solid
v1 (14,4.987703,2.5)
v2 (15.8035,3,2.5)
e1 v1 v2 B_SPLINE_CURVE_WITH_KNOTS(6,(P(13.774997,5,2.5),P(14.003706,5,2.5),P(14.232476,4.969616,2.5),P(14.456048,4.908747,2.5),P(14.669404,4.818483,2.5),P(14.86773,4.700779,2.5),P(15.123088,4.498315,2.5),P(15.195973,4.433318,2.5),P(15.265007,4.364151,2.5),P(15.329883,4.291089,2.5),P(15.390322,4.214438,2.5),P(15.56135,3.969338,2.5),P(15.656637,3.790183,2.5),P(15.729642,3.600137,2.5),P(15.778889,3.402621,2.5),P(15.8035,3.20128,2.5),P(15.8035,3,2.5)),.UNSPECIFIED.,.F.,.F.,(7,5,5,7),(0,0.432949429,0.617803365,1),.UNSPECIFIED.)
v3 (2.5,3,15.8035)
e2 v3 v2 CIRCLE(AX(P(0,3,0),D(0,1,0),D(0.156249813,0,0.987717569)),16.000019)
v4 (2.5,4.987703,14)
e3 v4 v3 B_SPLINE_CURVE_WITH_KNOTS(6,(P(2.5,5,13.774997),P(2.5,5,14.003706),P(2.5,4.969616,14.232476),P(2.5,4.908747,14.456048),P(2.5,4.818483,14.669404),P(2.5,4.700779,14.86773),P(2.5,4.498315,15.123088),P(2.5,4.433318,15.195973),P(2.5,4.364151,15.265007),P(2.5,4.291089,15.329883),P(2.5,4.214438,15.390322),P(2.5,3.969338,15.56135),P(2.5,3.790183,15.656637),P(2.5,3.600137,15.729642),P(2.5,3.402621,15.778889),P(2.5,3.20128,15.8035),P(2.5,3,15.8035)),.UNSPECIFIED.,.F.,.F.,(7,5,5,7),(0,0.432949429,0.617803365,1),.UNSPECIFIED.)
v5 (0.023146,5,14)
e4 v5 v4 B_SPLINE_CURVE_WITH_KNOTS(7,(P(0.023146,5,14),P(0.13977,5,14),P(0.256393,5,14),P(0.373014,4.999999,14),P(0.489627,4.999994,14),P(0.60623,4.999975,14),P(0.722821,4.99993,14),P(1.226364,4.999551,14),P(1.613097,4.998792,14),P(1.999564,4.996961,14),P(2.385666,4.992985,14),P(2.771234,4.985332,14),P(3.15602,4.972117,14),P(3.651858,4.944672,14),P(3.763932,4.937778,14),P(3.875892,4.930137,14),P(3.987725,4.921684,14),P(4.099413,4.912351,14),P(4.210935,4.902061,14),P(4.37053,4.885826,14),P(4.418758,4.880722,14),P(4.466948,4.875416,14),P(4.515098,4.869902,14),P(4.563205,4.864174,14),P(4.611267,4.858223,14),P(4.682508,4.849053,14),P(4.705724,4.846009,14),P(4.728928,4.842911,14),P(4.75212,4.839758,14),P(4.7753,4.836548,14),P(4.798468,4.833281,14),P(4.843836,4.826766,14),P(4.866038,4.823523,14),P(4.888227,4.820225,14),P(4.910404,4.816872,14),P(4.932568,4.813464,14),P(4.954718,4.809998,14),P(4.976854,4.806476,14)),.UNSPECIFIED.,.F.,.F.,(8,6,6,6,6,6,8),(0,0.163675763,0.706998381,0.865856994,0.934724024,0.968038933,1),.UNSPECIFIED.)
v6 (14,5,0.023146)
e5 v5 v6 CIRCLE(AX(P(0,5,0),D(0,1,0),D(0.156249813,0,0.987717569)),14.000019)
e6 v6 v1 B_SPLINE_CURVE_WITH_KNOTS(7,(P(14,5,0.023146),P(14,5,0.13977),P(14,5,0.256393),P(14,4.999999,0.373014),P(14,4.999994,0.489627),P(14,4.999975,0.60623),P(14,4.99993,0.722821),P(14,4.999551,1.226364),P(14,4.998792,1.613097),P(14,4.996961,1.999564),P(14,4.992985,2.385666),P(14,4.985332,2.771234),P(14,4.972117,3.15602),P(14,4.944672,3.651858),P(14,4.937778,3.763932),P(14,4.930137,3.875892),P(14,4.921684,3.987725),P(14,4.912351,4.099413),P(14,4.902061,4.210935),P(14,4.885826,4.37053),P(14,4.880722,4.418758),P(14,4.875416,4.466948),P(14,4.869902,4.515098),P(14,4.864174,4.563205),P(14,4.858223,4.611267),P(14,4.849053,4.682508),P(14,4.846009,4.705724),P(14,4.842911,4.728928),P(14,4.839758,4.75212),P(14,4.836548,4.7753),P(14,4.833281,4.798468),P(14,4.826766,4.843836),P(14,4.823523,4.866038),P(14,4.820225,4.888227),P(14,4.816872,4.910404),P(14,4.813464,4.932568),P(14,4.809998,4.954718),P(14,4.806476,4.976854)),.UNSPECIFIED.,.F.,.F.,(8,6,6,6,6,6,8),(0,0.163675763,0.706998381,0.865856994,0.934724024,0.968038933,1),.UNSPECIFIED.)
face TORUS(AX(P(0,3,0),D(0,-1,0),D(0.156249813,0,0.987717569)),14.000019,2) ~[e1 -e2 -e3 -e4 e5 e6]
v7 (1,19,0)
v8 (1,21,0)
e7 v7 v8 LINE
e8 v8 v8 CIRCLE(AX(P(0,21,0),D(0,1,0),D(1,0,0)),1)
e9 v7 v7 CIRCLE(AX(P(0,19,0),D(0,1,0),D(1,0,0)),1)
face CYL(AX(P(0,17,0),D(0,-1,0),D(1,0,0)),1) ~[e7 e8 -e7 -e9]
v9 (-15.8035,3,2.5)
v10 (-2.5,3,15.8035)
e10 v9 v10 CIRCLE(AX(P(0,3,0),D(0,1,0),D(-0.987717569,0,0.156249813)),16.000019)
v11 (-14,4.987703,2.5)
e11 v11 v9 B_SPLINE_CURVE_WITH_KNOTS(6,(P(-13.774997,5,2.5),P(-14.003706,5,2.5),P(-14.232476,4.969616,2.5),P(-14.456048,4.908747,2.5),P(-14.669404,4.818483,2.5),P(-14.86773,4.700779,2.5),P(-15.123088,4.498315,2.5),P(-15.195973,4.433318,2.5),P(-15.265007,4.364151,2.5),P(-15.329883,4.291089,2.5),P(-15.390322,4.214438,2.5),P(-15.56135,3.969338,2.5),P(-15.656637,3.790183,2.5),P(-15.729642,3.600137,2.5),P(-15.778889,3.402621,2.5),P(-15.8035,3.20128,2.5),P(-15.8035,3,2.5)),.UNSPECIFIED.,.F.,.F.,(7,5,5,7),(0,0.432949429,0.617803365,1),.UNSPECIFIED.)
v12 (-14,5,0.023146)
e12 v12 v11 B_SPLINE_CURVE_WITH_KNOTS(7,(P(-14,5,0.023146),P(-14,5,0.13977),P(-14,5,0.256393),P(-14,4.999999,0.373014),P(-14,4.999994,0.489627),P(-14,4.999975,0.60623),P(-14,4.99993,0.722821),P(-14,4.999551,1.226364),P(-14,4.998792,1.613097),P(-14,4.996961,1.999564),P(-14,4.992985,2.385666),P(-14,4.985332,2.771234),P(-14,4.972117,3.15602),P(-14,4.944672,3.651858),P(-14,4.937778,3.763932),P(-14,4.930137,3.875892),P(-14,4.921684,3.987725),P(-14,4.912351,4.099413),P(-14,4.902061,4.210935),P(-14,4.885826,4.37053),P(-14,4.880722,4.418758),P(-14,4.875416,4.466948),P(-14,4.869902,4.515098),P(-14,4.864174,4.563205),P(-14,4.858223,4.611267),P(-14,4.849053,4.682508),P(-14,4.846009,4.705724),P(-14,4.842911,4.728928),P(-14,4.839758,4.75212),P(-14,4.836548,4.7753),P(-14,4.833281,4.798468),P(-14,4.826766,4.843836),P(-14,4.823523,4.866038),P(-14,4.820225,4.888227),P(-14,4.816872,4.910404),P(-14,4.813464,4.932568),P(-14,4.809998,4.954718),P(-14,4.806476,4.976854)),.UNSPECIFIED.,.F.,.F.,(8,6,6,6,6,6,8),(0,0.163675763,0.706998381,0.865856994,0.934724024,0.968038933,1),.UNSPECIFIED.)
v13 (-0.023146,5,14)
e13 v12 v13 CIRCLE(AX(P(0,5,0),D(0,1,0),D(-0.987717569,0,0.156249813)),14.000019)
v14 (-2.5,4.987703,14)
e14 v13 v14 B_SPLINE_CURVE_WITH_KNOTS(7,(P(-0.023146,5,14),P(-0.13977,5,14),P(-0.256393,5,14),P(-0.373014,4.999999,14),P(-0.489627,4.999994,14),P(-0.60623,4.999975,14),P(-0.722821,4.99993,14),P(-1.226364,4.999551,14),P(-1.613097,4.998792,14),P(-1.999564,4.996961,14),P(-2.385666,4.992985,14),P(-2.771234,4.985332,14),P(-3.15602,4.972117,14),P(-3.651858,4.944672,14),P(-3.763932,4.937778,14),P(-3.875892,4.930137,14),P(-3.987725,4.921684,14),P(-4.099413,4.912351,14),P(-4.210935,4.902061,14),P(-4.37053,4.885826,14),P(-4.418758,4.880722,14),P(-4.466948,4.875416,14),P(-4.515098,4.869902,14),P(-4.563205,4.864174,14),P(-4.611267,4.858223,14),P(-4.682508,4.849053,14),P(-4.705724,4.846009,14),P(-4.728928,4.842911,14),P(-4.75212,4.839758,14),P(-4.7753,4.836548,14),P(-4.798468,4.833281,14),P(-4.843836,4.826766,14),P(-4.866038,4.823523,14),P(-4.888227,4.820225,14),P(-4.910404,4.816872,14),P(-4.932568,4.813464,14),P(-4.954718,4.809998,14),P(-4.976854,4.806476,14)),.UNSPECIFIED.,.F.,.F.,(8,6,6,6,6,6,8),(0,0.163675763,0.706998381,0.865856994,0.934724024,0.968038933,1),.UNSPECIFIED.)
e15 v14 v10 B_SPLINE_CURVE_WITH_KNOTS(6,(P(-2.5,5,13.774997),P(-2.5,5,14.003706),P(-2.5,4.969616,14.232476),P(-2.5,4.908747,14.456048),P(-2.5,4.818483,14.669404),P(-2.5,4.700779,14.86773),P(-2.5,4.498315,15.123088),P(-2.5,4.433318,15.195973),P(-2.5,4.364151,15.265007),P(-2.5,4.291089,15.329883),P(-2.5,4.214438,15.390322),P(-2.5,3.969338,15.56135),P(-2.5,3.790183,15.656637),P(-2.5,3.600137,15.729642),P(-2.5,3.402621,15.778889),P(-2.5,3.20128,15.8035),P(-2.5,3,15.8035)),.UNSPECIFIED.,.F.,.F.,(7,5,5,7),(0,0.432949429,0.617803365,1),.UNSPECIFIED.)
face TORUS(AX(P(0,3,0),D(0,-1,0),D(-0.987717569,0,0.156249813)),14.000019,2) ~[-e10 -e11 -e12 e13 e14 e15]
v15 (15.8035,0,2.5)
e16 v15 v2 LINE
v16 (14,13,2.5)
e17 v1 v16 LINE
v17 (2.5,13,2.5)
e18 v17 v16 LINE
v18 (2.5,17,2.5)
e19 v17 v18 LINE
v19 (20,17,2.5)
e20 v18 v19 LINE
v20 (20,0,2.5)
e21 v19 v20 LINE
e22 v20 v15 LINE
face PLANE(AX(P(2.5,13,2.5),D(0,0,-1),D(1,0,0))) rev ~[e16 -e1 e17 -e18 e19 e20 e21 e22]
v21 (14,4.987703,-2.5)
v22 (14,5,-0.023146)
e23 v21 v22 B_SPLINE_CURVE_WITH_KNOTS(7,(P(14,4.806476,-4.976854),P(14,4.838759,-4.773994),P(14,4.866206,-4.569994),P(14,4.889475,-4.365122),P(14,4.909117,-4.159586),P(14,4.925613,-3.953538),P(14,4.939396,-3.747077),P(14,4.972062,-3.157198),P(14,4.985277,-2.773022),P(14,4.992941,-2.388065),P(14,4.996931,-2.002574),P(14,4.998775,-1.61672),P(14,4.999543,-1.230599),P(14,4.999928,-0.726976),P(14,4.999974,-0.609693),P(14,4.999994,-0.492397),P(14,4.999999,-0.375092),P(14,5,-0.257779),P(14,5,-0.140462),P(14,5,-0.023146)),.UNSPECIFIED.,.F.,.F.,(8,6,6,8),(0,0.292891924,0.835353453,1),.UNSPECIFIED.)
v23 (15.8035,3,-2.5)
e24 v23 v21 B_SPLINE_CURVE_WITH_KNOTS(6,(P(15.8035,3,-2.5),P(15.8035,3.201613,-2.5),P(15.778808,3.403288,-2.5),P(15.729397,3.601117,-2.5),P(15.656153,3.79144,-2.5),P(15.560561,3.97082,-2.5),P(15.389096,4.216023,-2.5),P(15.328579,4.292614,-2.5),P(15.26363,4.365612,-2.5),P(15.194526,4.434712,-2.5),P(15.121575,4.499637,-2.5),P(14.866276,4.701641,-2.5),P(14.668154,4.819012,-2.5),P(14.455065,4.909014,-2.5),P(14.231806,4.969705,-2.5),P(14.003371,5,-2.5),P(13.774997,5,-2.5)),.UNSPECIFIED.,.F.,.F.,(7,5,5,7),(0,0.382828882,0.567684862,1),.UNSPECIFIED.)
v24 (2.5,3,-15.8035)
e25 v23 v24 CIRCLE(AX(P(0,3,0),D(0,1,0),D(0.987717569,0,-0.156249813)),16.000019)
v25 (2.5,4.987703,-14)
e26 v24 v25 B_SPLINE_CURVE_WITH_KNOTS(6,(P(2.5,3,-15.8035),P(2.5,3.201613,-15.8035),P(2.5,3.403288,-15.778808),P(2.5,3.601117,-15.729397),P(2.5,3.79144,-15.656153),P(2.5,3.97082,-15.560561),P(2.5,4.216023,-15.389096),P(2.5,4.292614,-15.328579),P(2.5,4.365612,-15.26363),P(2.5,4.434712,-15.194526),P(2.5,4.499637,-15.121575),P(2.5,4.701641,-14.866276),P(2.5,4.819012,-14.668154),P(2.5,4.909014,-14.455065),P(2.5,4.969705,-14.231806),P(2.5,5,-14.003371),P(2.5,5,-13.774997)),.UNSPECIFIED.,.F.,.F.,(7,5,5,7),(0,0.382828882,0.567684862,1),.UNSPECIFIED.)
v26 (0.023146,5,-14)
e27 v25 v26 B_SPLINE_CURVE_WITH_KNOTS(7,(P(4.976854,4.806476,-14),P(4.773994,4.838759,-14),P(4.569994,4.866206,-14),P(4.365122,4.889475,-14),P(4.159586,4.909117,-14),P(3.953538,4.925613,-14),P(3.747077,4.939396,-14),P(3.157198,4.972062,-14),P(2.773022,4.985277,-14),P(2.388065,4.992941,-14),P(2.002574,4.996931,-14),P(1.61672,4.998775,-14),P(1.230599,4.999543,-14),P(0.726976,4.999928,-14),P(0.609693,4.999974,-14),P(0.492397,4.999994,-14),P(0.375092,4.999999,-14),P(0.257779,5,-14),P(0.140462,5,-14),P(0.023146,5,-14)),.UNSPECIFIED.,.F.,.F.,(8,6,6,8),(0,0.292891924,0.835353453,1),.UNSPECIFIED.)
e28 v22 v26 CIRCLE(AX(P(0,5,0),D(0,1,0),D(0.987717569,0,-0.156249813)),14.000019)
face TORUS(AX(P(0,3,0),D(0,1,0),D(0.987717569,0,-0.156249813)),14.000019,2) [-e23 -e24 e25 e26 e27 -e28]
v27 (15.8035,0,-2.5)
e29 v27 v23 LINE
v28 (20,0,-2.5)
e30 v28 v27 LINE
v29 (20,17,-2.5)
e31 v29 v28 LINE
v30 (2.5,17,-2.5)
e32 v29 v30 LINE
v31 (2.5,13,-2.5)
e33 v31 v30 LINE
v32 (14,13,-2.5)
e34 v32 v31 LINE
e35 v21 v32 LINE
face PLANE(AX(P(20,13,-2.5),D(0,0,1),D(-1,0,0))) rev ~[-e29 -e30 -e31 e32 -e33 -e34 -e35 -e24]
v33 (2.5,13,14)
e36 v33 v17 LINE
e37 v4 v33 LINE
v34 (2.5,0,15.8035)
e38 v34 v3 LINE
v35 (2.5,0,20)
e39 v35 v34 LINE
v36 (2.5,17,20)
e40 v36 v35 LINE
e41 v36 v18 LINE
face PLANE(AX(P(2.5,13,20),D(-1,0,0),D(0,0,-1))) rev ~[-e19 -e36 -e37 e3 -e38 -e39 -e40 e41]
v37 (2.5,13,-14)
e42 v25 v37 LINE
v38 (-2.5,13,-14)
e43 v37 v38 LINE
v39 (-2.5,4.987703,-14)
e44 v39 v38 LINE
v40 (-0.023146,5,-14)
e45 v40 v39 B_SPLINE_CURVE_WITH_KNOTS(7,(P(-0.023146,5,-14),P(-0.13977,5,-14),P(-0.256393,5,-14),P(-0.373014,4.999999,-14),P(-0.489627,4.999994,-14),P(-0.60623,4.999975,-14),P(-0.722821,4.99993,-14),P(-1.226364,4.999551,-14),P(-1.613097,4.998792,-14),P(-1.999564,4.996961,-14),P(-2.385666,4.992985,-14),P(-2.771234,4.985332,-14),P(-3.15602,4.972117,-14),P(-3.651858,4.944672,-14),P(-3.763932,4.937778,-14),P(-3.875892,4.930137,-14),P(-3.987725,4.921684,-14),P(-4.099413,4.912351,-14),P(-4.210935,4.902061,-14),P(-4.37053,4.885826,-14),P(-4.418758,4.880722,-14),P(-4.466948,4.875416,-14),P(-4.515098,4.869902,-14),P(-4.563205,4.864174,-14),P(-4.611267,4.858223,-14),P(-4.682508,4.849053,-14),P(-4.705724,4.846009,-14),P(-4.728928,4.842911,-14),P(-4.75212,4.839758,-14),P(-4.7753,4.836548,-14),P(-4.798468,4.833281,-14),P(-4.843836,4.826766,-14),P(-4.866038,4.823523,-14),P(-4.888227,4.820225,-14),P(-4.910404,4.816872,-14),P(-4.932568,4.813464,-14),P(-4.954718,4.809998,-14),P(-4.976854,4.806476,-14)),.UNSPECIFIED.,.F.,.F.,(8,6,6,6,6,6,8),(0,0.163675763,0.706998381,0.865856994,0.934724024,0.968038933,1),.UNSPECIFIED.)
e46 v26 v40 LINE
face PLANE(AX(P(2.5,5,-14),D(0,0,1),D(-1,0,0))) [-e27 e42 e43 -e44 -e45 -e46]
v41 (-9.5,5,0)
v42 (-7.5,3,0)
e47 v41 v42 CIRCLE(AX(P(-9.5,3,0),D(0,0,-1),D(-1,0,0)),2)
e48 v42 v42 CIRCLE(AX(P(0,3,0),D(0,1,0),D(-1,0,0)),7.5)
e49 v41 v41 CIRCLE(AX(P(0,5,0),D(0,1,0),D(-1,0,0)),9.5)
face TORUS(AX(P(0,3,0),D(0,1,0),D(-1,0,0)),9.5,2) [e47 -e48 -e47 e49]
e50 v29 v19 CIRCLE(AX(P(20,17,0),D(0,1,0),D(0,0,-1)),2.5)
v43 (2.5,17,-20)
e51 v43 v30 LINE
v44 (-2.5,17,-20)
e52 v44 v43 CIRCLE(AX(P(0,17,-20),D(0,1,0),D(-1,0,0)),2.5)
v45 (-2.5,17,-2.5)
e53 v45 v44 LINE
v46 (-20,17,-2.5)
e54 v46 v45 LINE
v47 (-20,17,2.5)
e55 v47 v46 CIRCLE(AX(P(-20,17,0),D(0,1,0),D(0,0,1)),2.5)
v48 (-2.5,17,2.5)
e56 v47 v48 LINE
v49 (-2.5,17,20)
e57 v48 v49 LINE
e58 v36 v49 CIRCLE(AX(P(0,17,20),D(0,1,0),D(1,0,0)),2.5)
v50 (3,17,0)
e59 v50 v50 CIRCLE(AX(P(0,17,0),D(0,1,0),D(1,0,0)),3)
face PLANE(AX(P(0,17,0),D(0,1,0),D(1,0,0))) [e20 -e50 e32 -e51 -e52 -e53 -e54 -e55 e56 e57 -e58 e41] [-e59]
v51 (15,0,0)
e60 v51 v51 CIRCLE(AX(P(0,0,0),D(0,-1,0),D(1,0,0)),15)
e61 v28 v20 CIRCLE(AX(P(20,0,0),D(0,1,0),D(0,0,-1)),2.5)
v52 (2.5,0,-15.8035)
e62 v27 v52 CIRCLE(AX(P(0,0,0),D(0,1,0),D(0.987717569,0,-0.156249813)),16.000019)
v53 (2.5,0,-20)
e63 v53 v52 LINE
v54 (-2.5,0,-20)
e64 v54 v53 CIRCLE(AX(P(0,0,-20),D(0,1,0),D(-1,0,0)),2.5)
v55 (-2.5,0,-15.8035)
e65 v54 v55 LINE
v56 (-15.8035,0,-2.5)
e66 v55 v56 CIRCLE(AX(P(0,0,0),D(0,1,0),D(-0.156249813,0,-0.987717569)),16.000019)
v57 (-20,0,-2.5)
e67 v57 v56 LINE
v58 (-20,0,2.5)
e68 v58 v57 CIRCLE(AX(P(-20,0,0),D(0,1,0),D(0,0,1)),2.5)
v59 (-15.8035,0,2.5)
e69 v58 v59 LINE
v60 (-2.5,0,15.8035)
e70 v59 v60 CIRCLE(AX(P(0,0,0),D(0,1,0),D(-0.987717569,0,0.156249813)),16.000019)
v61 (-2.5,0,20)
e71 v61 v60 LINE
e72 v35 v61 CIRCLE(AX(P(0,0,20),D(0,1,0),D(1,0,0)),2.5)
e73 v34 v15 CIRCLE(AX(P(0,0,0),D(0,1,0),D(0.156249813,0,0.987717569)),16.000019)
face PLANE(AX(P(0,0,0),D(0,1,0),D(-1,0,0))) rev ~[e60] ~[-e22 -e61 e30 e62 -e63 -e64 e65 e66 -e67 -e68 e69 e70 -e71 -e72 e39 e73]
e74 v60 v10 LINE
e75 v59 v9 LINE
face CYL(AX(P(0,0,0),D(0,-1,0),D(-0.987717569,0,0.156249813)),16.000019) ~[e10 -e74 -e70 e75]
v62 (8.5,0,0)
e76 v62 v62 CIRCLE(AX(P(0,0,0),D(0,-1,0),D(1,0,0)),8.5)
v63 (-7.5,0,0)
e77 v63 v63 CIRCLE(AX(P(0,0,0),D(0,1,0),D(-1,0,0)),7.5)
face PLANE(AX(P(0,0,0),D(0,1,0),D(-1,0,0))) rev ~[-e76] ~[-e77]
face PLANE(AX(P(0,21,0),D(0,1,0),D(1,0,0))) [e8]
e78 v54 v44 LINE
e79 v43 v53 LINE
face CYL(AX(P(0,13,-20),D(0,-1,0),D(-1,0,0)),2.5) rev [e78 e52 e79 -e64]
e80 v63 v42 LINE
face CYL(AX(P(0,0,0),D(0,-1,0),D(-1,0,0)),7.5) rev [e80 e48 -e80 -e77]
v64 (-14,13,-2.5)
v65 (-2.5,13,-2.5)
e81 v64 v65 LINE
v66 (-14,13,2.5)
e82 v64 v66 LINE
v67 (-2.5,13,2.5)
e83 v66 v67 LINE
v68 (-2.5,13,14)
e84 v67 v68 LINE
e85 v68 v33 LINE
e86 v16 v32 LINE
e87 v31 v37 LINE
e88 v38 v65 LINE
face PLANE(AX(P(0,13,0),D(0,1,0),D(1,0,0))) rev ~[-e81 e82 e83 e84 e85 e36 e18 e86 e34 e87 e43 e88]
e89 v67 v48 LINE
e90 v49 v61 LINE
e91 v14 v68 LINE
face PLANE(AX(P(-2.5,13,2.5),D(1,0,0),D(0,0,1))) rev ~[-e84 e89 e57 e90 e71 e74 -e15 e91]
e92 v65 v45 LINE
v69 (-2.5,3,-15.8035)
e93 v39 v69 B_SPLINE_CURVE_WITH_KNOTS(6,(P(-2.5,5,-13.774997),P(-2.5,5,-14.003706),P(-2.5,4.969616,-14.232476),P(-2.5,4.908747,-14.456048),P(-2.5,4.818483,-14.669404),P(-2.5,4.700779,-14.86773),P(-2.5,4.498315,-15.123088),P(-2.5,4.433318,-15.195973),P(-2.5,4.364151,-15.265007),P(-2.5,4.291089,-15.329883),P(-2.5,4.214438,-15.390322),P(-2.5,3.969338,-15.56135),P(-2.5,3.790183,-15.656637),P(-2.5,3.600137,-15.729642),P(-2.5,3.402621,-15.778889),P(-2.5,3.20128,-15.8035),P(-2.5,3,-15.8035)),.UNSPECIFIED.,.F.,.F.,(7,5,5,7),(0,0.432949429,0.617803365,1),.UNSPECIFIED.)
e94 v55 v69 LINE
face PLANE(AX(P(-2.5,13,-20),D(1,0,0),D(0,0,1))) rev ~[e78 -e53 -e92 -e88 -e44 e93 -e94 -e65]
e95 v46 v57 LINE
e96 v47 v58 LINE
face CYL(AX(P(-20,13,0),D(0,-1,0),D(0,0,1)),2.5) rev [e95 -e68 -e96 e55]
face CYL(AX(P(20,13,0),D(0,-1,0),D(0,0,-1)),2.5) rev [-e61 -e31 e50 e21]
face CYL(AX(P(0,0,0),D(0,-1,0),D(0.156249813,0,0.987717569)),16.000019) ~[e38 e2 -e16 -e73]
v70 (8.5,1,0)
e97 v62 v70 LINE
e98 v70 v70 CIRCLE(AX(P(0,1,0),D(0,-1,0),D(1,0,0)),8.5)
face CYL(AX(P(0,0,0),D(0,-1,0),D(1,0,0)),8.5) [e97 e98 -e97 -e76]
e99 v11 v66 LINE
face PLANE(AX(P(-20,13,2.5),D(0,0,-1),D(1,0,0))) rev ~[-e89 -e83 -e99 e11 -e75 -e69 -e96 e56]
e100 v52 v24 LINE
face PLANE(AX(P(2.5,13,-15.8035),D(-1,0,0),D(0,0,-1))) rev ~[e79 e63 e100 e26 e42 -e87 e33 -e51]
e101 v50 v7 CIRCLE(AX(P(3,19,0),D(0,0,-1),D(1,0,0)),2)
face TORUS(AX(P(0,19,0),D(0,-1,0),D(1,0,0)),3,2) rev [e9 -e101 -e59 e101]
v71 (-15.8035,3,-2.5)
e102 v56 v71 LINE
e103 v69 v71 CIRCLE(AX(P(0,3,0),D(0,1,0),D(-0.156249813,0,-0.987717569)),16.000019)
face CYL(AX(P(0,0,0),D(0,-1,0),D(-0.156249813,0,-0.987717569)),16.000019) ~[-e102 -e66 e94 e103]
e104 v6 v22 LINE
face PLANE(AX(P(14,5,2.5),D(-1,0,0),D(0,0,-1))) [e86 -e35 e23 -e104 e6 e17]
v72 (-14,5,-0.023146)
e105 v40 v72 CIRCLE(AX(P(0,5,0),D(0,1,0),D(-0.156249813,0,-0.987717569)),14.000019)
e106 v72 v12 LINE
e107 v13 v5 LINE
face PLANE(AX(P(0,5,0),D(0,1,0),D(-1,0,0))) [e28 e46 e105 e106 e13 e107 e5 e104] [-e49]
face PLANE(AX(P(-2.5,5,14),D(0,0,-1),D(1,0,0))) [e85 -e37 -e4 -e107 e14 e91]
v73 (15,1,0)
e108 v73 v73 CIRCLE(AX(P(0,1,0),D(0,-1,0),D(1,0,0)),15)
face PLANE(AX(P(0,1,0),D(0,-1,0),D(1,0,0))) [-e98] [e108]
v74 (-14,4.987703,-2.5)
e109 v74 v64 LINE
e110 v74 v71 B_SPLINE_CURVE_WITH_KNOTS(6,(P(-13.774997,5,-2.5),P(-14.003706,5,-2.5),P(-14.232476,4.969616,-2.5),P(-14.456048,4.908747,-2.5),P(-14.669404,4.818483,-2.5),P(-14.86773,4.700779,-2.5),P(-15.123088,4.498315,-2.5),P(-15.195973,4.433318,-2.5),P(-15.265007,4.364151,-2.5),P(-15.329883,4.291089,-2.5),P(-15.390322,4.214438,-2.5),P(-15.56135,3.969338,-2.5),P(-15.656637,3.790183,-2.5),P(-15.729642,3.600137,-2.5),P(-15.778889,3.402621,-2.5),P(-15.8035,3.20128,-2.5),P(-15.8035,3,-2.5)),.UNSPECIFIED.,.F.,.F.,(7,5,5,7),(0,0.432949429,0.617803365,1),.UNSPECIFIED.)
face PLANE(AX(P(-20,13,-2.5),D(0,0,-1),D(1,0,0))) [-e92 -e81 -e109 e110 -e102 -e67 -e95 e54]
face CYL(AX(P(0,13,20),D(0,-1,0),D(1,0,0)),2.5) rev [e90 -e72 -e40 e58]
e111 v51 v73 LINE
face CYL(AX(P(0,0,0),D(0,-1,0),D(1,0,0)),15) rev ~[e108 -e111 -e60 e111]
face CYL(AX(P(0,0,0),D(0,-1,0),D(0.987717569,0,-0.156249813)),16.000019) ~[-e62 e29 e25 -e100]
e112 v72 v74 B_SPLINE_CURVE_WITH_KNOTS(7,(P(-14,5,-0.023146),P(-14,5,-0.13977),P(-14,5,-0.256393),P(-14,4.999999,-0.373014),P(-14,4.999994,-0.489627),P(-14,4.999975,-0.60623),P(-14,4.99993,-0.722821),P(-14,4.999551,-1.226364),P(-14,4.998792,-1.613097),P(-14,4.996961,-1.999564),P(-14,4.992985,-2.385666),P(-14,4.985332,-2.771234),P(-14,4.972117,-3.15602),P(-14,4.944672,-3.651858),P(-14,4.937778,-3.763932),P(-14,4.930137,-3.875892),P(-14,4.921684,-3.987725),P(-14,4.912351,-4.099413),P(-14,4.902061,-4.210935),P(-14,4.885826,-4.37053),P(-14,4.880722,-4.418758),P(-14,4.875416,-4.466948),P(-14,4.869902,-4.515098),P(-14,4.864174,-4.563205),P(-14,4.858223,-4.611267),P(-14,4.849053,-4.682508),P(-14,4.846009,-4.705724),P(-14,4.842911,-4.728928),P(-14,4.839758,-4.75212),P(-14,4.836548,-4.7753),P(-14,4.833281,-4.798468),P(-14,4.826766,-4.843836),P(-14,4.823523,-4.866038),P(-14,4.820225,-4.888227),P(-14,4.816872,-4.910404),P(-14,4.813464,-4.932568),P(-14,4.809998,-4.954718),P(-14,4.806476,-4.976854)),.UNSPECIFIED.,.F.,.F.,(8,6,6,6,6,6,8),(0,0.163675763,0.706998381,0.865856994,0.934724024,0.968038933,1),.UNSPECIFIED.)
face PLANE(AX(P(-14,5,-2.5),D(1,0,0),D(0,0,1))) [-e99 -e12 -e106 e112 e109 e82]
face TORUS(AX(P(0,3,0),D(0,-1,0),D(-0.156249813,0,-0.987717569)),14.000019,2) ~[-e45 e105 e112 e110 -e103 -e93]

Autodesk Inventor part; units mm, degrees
ref_plane "YZ Plane" through (0, 0, 0) normal (1, 0, 0) x (0, 1, 0)
ref_plane "XZ Plane" through (0, 0, 0) normal (0, 1, 0) x (-1, 0, 0)
ref_plane "XY Plane" through (0, 0, 0) normal (0, 0, 1) x (1, 0, 0)
sketch "Sketch14" plane through (0, 0, 0) normal (0, 1, 0) x (-1, 0, 0)
  arc A0 (20, 2.5) -> (20, -2.5) centre (20, 0) ccw
  arc A1 (-2.5, 20) -> (2.5, 20) centre (0, 20) ccw
  arc A2 (-20, -2.5) -> (-20, 2.5) centre (-20, 0) ccw
  arc A3 (2.5, -20) -> (-2.5, -20) centre (0, -20) ccw
  line L0 (20, -2.5) -> (15.8035, -2.5)
  line L1 (20, 2.5) -> (15.8035, 2.5)
  line L2 (2.5, 20) -> (2.5, 15.8035)
  line L3 (-2.5, 20) -> (-2.5, 15.8035)
  line L4 (-20, 2.5) -> (-15.8035, 2.5)
  line L5 (-20, -2.5) -> (-15.8035, -2.5)
  line L6 (-2.5, -20) -> (-2.5, -15.8035)
  line L7 (2.5, -20) -> (2.5, -15.8035)
  arc A4 (2.5, -15.8035) -> (15.8035, -2.5) centre (0, 0) ccw
  arc A5 (15.8035, 2.5) -> (2.5, 15.8035) centre (0, 0) ccw
  arc A6 (-2.5, 15.8035) -> (-15.8035, 2.5) centre (0, 0) ccw
  arc A7 (-15.8035, -2.5) -> (-2.5, -15.8035) centre (0, 0) ccw
  circle A8 centre (0, 0) radius 7.5
  dimension "d87" = 2.5
  dimension "d88" = 2.5
  dimension "d89" = 2.5
  dimension "d90" = 2.5
  dimension "d91" = 15
extrude "Extrusion15" add sketch "Sketch14" along normal blind 5
sketch "Sketch15" plane through (0, 0, 0) normal (0, -1, 0) x (1, 0, 0)
  circle A0 centre (0, 0) radius 8.5
  circle A1 centre (0, 0) radius 15
  dimension "d94" = 17
  dimension "d95" = 30
extrude "Extrusion16" cut sketch "Sketch15" against normal blind 1
sketch "Sketch16" plane through (0, 5, 0) normal (0, 1, 0) x (1, 0, 0)
  arc A0 (-20, -2.5) -> (-20, 2.5) centre (-20, 0) ccw projected
  arc A1 (-20, -2.5) -> (-20, 2.5) centre (-20, 0) ccw
  arc A2 (2.5, -20) -> (-2.5, -20) centre (0, -20) ccw projected
  arc A3 (2.5, -20) -> (-2.5, -20) centre (0, -20) ccw
  arc A4 (20, 2.5) -> (20, -2.5) centre (20, 0) ccw
  arc A5 (-2.5, 20) -> (2.5, 20) centre (0, 20) ccw
  line L0 (-20, 2.5) -> (-14, 2.5)
  line L1 (-14, 2.5) -> (-14, -2.5)
  line L2 (-14, -2.5) -> (-20, -2.5)
  line L3 (-2.5, -15.8035) -> (-2.5, -20) projected
  line L4 (-2.5, -20) -> (-2.5, -14)
  line L5 (-2.5, -14) -> (2.5, -14)
  line L6 (2.5, -20) -> (2.5, -15.8035) projected
  line L7 (2.5, -14) -> (2.5, -20)
  line L8 (20, -2.5) -> (14, -2.5)
  line L9 (15.8035, -2.5) -> (20, -2.5) projected
  line L10 (14, -2.5) -> (14, 2.5)
  line L11 (20, 2.5) -> (15.8035, 2.5) projected
  line L12 (14, 2.5) -> (20, 2.5)
  line L13 (2.5, 15.8035) -> (2.5, 20) projected
  line L14 (2.5, 20) -> (2.5, 14)
  line L15 (2.5, 14) -> (-2.5, 14)
  arc A6 (-2.5, 20) -> (2.5, 20) centre (0, 20) ccw projected
  line L16 (-2.5, 14) -> (-2.5, 20)
  point P0 (0, 0)
extrude "Extrusion17" add sketch "Sketch16" along normal blind 8
sketch "Sketch17" plane through (0, 13, 0) normal (0, 1, 0) x (1, 0, 0)
  line L0 (-2.5, 20) -> (-2.5, 15.8035) projected
  arc A0 (-2.5, 20) -> (2.5, 20) centre (0, 20) ccw projected
  arc A1 (-2.5, 20) -> (2.5, 20) centre (0, 20) ccw
  arc A2 (20, 2.5) -> (20, -2.5) centre (20, 0) ccw projected
  arc A3 (20, 2.5) -> (20, -2.5) centre (20, 0) ccw
  arc A4 (2.5, -20) -> (-2.5, -20) centre (0, -20) ccw
  line L1 (-20, -2.5) -> (-2.5, -2.5)
  line L2 (-2.5, -2.5) -> (-2.5, -20)
  line L3 (2.5, -20) -> (2.5, -2.5)
  line L4 (2.5, -2.5) -> (20, -2.5)
  line L5 (20, 2.5) -> (2.5, 2.5)
  line L6 (2.5, 15.8035) -> (2.5, 20) projected
  line L7 (2.5, 2.5) -> (2.5, 20)
  line L8 (-2.5, 20) -> (-2.5, 2.5)
  line L9 (-20, 2.5) -> (-2.5, 2.5)
  arc A5 (-20, -2.5) -> (-20, 2.5) centre (-20, 0) ccw
  point P0 (0, 0)
extrude "Extrusion18" add sketch "Sketch17" along normal blind 4
sketch "Sketch18" plane through (0, 17, 0) normal (0, 1, 0) x (1, 0, 0)
  circle A0 centre (0, 0) radius 1
  dimension "d102" = 2
extrude "Extrusion19" add sketch "Sketch18" along normal blind 4
fillet "Fillet1" radius 2 5 edges at (11.3137, 5, -11.3137) (7.5, 5, 0) (-11.3137, 5, -11.3137) (-11.3137, 5, 11.3137) (11.3137, 5, 11.3137)
fillet "Fillet2" radius 2 1 edges at (-1, 17, 0)
properties part number "CheckValveValve1.0"
